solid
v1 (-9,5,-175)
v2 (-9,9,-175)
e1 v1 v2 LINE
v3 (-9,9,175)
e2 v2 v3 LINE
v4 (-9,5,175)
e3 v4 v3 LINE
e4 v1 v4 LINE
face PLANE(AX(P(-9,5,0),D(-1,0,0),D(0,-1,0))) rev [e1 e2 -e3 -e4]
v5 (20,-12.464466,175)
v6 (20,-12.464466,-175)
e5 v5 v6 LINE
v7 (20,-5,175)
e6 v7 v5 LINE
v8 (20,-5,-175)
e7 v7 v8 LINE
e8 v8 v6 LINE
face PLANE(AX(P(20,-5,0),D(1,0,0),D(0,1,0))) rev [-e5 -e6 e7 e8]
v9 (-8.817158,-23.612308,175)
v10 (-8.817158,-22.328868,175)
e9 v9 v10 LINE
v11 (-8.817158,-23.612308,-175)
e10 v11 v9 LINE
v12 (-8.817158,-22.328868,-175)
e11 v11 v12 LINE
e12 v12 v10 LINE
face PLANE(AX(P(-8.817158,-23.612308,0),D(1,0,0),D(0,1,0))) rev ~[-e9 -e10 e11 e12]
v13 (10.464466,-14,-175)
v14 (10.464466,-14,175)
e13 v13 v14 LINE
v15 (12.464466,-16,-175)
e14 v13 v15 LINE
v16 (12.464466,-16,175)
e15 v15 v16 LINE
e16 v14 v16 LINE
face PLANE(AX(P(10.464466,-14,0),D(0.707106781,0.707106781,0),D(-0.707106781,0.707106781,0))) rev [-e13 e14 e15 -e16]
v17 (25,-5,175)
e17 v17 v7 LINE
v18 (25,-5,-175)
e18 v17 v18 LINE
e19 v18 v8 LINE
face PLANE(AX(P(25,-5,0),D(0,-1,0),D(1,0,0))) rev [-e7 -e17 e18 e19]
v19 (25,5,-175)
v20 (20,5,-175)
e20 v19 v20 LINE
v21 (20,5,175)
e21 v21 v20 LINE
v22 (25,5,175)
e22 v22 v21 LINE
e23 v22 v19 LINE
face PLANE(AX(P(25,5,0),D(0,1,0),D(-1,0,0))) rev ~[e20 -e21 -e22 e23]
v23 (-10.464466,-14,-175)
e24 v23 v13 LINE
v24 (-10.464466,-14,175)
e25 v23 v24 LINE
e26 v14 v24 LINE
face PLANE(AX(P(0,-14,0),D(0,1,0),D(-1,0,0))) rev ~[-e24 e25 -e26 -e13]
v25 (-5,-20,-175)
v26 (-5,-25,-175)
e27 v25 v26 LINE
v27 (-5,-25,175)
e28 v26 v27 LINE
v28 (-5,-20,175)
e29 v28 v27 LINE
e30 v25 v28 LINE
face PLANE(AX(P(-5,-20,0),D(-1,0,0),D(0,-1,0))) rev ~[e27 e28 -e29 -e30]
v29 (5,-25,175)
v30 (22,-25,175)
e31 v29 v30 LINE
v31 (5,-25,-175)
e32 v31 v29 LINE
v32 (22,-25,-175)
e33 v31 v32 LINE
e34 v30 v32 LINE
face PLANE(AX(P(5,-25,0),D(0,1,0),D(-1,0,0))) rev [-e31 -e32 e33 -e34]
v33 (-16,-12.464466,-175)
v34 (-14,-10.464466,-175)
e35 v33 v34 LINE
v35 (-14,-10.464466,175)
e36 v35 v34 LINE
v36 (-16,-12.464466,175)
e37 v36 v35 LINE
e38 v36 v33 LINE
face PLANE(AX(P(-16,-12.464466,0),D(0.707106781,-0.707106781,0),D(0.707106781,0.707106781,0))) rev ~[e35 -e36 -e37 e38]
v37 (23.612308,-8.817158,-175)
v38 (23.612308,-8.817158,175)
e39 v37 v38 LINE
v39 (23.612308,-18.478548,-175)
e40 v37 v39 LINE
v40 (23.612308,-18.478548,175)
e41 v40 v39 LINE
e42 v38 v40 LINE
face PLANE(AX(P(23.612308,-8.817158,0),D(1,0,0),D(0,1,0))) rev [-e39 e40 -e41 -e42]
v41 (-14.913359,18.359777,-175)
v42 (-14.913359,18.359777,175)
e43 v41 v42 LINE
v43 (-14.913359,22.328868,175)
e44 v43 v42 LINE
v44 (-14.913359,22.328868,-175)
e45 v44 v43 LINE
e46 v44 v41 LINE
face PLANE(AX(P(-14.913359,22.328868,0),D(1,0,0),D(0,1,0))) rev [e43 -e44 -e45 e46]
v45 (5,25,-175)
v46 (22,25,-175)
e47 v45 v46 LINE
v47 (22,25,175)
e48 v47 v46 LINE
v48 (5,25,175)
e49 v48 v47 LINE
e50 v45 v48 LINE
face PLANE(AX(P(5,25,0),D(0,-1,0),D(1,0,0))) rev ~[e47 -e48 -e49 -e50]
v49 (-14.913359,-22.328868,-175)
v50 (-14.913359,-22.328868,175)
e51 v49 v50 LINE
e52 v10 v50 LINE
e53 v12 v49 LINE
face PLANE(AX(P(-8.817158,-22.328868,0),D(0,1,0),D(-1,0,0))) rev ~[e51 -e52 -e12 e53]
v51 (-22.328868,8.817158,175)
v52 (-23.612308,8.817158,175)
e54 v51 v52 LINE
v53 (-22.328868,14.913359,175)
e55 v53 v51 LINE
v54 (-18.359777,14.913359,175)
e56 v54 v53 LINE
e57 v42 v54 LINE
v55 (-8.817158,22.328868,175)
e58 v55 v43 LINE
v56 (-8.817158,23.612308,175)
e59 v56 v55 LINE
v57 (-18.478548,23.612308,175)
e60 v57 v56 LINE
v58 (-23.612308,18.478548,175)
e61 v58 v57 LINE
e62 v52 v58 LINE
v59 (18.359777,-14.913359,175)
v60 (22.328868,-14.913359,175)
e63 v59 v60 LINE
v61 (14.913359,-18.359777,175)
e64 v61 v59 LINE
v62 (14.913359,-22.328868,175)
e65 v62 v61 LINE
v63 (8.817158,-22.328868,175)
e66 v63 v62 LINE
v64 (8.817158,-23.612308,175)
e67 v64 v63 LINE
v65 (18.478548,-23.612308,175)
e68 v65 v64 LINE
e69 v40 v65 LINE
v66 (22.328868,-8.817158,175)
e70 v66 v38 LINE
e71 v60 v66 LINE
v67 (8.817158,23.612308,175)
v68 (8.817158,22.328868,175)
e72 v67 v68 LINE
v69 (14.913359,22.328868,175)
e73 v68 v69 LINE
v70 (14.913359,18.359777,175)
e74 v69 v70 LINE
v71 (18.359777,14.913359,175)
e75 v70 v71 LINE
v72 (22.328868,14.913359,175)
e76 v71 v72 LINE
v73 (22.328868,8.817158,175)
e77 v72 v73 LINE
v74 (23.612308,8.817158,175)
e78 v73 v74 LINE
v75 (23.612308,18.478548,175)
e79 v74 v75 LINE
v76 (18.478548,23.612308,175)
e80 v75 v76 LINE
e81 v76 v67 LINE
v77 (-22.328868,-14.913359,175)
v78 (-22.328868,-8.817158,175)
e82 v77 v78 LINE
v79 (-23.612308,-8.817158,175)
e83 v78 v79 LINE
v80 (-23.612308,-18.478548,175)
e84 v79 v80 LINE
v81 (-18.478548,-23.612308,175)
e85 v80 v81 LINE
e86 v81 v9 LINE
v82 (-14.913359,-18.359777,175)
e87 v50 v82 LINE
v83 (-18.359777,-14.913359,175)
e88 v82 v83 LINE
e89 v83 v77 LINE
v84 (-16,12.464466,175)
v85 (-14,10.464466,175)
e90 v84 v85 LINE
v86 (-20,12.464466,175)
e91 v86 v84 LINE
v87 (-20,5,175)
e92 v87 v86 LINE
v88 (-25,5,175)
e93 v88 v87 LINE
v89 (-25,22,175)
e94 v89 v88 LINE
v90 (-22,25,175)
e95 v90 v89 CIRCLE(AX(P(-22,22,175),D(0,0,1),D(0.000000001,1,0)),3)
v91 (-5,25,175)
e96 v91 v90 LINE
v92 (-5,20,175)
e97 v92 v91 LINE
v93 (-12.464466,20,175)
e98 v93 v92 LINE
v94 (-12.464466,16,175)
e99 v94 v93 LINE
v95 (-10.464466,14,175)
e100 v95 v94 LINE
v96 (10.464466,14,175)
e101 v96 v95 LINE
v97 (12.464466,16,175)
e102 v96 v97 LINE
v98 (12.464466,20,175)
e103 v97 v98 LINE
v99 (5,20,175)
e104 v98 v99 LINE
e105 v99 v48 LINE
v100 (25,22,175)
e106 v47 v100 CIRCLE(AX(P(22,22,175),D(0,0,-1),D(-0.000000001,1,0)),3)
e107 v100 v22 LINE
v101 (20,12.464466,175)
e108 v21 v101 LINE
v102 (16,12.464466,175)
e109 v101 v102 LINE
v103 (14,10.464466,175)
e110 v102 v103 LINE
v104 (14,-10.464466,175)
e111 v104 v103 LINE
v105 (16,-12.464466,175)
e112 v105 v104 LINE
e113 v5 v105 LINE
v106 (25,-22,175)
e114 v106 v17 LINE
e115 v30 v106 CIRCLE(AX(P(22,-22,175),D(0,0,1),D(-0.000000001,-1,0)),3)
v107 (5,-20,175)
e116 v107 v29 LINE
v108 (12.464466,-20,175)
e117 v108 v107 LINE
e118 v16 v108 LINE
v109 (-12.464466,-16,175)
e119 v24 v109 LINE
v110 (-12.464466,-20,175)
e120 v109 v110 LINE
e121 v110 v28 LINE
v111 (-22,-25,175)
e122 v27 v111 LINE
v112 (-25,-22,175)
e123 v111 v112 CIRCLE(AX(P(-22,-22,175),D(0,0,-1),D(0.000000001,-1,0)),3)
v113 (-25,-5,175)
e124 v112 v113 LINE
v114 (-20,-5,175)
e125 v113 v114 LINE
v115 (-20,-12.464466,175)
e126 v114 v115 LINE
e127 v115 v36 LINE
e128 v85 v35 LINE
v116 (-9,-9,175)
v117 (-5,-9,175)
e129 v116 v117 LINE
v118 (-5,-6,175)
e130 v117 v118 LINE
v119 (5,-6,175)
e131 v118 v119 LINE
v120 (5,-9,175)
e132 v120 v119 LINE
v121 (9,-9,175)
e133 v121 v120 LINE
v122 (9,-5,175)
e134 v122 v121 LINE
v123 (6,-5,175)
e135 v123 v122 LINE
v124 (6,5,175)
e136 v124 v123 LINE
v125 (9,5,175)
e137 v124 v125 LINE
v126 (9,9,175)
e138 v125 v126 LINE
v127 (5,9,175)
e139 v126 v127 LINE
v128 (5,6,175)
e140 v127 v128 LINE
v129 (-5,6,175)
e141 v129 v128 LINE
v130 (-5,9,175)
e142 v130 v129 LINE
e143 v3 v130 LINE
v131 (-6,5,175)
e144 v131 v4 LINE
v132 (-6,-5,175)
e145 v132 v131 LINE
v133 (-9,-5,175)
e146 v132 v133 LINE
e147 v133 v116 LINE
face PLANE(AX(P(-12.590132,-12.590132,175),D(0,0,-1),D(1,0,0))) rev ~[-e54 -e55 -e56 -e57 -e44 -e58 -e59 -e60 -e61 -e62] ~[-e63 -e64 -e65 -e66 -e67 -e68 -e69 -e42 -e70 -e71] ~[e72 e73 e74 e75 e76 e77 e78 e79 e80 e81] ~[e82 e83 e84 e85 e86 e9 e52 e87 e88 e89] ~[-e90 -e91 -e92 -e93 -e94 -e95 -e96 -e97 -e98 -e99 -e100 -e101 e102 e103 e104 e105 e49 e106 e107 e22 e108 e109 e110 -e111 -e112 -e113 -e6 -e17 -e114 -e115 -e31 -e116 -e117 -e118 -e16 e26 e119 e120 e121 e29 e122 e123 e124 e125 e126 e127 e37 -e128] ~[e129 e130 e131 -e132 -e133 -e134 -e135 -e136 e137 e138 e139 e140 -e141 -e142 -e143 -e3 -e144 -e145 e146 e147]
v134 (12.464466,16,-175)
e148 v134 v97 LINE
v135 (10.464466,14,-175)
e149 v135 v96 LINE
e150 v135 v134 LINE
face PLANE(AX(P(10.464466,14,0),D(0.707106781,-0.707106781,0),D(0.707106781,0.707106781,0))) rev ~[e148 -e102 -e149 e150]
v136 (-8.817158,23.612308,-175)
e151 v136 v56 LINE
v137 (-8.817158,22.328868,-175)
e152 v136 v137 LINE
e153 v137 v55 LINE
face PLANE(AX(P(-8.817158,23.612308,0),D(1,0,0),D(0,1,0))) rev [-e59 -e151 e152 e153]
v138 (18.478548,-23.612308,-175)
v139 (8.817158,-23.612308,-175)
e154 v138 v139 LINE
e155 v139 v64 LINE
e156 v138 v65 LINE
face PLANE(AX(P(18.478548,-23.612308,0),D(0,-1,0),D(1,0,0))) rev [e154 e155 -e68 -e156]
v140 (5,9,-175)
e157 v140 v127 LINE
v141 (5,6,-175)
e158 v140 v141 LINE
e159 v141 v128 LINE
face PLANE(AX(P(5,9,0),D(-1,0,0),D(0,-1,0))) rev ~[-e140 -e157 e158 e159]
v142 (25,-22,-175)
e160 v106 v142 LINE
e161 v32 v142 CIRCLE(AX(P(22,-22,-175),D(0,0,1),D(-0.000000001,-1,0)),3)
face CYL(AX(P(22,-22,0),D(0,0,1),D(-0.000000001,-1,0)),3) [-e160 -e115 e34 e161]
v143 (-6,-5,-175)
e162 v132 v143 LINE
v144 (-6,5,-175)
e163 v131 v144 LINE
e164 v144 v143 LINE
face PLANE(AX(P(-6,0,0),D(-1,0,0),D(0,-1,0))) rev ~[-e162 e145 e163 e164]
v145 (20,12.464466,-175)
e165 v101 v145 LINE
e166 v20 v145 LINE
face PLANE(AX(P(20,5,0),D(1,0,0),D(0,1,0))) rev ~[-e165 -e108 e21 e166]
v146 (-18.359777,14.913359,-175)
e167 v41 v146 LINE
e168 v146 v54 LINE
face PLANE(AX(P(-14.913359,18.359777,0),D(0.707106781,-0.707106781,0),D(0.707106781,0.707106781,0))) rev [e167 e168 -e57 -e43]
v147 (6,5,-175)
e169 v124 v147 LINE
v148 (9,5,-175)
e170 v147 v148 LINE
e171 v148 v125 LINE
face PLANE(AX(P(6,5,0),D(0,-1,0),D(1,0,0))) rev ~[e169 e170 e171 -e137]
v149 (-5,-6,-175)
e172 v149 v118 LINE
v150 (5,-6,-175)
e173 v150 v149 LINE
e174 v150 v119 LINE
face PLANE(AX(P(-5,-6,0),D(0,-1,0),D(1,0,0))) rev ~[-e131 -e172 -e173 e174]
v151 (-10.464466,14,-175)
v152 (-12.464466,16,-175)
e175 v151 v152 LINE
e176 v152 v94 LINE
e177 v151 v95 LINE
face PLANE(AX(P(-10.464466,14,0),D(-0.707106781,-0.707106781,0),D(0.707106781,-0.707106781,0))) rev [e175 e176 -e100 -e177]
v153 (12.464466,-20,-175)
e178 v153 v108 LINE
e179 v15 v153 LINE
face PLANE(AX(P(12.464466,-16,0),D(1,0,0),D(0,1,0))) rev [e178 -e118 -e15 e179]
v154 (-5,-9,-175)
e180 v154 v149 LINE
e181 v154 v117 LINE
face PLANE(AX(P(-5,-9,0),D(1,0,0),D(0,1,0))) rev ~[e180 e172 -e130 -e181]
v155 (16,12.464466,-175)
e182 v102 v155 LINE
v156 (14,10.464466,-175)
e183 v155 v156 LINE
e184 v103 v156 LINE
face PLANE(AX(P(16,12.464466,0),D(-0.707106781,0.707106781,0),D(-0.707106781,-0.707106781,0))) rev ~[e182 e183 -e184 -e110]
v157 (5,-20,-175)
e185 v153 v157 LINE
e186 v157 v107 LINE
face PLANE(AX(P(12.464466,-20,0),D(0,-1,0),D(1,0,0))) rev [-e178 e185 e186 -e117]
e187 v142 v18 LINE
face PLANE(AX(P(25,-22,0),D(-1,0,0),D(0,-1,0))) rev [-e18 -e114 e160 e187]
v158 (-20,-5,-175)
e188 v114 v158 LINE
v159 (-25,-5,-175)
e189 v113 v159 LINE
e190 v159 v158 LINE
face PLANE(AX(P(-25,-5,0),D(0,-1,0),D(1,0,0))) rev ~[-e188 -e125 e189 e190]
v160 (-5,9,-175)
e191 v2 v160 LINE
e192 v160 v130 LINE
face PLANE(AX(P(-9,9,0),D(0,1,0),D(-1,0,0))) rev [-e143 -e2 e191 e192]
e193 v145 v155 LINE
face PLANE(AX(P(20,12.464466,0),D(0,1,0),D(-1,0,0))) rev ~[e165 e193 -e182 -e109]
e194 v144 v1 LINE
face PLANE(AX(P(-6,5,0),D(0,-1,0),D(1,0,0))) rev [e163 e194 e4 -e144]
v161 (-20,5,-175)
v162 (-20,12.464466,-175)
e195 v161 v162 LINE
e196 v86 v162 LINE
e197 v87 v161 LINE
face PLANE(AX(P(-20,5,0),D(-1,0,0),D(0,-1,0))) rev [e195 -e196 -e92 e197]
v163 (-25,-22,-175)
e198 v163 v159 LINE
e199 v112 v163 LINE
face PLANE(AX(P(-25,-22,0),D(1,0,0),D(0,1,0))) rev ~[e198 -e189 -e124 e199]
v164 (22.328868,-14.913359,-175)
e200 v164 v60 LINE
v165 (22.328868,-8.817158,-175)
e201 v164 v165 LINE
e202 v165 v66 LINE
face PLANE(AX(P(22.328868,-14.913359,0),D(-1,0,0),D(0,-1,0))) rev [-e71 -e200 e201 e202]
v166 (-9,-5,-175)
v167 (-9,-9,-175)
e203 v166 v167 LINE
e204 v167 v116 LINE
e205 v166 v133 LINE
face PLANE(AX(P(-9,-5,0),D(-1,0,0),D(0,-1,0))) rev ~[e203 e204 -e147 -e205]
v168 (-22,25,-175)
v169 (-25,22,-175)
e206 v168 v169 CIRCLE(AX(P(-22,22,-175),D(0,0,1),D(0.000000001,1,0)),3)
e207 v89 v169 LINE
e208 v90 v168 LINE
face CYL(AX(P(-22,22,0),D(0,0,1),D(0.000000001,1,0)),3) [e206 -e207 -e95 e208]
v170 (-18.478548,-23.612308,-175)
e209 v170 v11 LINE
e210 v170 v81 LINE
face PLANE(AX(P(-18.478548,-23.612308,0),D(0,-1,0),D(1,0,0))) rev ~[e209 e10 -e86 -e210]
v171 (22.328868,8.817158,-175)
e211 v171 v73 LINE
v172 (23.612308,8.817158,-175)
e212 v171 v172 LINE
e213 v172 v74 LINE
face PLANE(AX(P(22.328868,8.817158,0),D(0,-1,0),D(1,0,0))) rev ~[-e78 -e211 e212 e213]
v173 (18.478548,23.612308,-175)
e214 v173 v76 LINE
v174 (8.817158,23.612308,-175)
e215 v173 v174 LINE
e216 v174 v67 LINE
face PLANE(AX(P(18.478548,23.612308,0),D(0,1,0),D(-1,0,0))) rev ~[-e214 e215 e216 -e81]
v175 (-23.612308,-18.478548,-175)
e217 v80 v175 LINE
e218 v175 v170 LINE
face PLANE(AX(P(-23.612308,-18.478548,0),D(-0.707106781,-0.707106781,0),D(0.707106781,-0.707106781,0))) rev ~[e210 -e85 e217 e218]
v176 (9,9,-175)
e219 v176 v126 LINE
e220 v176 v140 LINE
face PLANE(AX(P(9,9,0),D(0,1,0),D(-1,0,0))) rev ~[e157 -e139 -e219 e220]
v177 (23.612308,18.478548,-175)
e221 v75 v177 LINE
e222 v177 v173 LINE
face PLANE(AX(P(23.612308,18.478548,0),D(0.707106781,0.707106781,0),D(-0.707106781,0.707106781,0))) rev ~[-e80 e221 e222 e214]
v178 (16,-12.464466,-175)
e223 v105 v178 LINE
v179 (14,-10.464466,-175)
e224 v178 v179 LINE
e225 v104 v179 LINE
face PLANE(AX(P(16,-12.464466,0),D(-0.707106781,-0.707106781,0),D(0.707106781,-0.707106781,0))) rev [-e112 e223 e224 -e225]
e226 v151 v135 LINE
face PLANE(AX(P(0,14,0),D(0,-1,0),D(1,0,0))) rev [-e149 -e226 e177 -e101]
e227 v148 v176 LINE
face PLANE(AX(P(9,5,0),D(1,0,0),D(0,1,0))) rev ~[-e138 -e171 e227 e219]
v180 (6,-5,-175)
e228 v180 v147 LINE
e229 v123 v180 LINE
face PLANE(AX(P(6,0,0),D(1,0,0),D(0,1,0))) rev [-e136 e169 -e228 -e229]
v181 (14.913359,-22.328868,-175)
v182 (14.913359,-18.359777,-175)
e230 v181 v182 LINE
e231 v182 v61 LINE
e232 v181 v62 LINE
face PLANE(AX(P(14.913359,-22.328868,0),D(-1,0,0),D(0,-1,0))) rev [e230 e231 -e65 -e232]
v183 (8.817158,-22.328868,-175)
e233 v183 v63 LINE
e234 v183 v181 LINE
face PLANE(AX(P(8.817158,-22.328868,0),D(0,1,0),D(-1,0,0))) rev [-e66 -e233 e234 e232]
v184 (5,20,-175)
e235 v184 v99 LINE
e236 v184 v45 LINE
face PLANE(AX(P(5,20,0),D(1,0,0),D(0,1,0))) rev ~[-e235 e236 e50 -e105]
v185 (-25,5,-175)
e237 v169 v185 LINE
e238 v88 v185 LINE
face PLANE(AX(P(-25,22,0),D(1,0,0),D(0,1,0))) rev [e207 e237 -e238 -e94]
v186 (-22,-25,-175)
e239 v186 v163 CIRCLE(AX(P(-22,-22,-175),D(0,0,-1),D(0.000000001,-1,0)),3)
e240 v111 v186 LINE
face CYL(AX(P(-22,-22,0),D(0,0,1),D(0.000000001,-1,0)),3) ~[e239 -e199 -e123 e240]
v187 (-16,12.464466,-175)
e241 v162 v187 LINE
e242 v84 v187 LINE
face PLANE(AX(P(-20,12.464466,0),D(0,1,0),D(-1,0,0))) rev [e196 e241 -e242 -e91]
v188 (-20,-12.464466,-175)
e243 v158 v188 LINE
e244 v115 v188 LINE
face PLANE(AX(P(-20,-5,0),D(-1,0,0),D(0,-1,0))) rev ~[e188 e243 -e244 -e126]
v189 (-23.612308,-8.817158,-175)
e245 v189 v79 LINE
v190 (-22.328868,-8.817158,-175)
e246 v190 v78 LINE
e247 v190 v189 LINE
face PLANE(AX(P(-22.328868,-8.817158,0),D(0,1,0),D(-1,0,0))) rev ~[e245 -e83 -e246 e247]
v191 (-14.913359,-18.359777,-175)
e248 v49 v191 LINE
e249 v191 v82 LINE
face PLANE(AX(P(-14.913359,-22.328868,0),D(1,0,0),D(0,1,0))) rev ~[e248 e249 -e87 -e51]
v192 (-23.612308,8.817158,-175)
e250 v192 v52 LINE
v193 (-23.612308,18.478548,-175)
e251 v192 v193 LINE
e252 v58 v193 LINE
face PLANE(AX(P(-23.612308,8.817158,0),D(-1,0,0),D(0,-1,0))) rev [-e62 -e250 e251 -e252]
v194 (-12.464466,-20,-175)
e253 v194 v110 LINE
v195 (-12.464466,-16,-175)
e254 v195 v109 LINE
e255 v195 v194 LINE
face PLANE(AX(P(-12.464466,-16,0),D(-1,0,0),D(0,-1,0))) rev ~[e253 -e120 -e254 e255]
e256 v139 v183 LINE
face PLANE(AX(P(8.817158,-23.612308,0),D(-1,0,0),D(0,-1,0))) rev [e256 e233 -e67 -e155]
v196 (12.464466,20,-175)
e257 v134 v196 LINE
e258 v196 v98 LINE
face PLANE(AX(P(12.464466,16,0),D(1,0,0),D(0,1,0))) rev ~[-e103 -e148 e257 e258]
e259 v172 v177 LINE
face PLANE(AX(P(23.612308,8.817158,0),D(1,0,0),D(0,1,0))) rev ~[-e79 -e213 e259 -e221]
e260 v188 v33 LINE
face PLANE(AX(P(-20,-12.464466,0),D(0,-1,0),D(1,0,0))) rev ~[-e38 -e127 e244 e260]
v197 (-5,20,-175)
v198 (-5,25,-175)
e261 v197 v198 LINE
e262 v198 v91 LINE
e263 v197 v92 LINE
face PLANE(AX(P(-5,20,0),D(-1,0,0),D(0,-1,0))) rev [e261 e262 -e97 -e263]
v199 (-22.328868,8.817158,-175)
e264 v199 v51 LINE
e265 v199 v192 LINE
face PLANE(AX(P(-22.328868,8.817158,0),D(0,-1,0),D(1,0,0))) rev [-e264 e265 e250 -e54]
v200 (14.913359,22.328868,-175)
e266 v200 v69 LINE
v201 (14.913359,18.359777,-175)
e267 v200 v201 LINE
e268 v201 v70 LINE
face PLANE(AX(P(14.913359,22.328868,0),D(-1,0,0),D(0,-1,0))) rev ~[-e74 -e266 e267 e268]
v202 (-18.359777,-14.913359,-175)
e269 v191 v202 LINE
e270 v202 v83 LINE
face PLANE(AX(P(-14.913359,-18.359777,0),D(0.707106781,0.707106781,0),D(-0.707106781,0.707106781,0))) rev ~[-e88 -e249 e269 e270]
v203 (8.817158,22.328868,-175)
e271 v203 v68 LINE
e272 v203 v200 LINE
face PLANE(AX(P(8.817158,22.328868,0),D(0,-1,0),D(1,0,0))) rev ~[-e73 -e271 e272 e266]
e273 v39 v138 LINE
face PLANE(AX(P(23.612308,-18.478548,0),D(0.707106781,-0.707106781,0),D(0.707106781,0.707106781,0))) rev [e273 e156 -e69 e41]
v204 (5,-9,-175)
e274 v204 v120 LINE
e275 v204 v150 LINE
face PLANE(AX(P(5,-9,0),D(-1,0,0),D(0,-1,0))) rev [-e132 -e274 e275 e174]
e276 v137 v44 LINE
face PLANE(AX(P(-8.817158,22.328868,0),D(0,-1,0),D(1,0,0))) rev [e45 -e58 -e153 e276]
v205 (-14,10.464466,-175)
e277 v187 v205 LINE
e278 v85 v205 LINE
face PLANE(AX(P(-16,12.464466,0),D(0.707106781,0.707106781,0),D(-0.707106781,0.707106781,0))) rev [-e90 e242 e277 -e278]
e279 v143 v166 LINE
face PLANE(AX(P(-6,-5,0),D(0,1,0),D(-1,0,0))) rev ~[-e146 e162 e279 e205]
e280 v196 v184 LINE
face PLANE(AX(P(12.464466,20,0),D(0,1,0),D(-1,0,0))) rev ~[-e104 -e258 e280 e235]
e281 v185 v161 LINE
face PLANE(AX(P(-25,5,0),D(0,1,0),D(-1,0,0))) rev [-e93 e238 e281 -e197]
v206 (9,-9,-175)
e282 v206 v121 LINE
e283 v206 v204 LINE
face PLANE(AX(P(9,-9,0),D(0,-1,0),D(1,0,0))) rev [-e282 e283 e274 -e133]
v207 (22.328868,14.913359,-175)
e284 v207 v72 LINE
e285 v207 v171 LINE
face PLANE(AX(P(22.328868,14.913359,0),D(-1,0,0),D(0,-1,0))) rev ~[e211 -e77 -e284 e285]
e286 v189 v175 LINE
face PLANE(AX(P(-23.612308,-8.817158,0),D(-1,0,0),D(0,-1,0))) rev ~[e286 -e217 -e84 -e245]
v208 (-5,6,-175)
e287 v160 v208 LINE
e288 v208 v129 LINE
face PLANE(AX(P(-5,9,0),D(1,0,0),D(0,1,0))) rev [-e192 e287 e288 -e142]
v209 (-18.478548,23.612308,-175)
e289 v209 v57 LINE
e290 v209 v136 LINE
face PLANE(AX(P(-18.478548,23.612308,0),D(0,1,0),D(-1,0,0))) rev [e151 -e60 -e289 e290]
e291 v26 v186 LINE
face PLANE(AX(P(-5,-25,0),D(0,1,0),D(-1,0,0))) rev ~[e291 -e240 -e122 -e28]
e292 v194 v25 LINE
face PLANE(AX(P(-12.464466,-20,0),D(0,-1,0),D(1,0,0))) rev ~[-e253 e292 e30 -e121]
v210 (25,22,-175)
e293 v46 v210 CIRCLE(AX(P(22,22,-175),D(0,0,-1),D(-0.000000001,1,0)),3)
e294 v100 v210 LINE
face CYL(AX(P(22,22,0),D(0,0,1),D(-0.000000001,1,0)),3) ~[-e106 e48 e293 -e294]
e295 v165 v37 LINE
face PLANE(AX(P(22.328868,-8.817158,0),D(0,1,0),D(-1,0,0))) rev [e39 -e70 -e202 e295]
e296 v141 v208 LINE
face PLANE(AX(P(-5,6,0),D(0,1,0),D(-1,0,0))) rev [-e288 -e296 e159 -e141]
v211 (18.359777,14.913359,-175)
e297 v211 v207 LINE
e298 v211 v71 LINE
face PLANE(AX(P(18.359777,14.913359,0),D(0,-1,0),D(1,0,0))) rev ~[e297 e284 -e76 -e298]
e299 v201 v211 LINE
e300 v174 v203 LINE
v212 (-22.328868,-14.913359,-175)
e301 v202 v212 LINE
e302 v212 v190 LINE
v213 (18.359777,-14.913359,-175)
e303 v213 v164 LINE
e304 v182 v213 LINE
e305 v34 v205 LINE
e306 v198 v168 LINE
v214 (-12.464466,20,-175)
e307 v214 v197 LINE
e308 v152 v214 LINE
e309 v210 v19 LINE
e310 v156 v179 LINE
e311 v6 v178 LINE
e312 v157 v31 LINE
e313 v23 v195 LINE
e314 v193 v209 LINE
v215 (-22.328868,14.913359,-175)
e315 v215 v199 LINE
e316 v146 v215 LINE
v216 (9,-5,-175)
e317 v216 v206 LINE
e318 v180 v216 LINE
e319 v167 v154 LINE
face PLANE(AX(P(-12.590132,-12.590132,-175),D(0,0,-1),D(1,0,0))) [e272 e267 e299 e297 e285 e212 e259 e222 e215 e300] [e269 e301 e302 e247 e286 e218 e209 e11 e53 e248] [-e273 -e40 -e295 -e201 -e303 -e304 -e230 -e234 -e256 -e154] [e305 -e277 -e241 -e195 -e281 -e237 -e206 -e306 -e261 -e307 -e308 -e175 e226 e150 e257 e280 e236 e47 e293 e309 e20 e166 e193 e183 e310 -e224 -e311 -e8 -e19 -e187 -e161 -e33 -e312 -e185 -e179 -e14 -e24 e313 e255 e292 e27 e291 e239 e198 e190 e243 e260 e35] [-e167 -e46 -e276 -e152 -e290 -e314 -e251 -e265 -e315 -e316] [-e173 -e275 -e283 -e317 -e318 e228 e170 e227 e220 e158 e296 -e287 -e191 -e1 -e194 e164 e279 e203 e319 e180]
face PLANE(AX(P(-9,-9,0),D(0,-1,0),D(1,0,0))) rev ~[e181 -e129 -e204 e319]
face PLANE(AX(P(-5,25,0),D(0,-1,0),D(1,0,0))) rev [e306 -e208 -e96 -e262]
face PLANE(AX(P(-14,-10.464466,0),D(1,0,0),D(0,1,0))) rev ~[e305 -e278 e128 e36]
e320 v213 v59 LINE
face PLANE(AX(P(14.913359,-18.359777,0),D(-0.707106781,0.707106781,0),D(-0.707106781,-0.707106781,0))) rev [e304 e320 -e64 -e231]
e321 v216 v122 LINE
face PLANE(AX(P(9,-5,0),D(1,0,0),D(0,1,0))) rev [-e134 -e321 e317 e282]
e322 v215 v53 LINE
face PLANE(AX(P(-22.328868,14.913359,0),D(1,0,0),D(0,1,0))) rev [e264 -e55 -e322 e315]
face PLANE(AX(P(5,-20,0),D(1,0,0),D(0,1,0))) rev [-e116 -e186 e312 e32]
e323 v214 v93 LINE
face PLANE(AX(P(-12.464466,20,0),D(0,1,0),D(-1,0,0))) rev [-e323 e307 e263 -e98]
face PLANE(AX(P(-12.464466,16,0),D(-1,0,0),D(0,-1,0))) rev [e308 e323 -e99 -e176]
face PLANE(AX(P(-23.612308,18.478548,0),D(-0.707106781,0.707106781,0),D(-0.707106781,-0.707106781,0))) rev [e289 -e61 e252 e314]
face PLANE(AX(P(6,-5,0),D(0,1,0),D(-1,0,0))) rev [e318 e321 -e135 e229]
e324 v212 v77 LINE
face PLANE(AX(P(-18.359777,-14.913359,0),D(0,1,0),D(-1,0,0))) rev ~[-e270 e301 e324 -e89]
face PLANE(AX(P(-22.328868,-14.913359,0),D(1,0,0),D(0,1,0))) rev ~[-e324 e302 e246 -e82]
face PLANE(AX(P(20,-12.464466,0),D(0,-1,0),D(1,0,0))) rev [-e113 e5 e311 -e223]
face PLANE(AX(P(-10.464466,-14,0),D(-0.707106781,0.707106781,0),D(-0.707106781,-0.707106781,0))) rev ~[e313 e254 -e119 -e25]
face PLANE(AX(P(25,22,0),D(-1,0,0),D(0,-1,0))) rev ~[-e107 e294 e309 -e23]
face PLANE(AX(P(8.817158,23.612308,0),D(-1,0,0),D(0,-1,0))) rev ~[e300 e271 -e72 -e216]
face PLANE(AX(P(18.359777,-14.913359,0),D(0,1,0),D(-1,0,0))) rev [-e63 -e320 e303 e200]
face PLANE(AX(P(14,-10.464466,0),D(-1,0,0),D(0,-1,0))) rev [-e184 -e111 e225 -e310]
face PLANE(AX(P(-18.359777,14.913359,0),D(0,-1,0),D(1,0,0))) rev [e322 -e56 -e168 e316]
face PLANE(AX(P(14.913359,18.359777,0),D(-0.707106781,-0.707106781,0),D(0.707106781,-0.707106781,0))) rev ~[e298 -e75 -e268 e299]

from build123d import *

# Parameters (mm, degrees)
SALIENTE_EXTRUIR1_DEPTH = 175


with BuildPart() as part:
    # Croquis1 → Saliente-Extruir1 (new, symmetric)
    with BuildSketch(Plane.XY):
        with BuildLine():
            Line((5, 25), (22, 25))
            ThreePointArc((22, 25), (24.121320344, 24.121320344), (25, 22))
            Line((25, 22), (25, 5))
            Line((25, 5), (20, 5))
            Line((20, 5), (20, 12.464466094))
            Line((20, 12.464466094), (16, 12.464466094))
            Line((16, 12.464466094), (14, 10.464466094))
            Line((14, 10.464466094), (14, 0))
            Line((14, 0), (6, 0))
            Line((6, 0), (6, 5))
            Line((6, 5), (9, 5))
            Line((9, 5), (9, 9))
            Line((9, 9), (5, 9))
            Line((5, 9), (5, 6))
            Line((5, 6), (0, 6))
            Line((0, 6), (0, 14))
            Line((0, 14), (10.464466094, 14))
            Line((10.464466094, 14), (12.464466094, 16))
            Line((12.464466094, 16), (12.464466094, 20))
            Line((12.464466094, 20), (5, 20))
            Line((5, 20), (5, 25))
        make_face()
        Polygon((23.61230751, 18.478547627), (18.478547627, 23.61230751), (8.817158017, 23.61230751), (8.817158017, 22.328867539), (14.913358785, 22.328867539), (14.913358785, 18.359777384), (18.359777384, 14.913358785), (22.328867539, 14.913358785), (22.328867539, 8.817158017), (23.61230751, 8.817158017), align=None, mode=Mode.SUBTRACT)
    saliente_extruir1 = extrude(amount=SALIENTE_EXTRUIR1_DEPTH, both=True)

    # Simetría1: Saliente-Extruir1 across plane
    add(saliente_extruir1.mirror(Plane(origin=(0, 14, 175), x_dir=(0, 0, 1), z_dir=(1, 0, 0))))

    # Simetría7: part across plane


with BuildPart() as part_1:
    add(part.part)
    add(part.part.mirror(Plane(origin=(6, 0, 175), x_dir=(0, 0, 1), z_dir=(0, 1, 0))))


solid = part_1.part
